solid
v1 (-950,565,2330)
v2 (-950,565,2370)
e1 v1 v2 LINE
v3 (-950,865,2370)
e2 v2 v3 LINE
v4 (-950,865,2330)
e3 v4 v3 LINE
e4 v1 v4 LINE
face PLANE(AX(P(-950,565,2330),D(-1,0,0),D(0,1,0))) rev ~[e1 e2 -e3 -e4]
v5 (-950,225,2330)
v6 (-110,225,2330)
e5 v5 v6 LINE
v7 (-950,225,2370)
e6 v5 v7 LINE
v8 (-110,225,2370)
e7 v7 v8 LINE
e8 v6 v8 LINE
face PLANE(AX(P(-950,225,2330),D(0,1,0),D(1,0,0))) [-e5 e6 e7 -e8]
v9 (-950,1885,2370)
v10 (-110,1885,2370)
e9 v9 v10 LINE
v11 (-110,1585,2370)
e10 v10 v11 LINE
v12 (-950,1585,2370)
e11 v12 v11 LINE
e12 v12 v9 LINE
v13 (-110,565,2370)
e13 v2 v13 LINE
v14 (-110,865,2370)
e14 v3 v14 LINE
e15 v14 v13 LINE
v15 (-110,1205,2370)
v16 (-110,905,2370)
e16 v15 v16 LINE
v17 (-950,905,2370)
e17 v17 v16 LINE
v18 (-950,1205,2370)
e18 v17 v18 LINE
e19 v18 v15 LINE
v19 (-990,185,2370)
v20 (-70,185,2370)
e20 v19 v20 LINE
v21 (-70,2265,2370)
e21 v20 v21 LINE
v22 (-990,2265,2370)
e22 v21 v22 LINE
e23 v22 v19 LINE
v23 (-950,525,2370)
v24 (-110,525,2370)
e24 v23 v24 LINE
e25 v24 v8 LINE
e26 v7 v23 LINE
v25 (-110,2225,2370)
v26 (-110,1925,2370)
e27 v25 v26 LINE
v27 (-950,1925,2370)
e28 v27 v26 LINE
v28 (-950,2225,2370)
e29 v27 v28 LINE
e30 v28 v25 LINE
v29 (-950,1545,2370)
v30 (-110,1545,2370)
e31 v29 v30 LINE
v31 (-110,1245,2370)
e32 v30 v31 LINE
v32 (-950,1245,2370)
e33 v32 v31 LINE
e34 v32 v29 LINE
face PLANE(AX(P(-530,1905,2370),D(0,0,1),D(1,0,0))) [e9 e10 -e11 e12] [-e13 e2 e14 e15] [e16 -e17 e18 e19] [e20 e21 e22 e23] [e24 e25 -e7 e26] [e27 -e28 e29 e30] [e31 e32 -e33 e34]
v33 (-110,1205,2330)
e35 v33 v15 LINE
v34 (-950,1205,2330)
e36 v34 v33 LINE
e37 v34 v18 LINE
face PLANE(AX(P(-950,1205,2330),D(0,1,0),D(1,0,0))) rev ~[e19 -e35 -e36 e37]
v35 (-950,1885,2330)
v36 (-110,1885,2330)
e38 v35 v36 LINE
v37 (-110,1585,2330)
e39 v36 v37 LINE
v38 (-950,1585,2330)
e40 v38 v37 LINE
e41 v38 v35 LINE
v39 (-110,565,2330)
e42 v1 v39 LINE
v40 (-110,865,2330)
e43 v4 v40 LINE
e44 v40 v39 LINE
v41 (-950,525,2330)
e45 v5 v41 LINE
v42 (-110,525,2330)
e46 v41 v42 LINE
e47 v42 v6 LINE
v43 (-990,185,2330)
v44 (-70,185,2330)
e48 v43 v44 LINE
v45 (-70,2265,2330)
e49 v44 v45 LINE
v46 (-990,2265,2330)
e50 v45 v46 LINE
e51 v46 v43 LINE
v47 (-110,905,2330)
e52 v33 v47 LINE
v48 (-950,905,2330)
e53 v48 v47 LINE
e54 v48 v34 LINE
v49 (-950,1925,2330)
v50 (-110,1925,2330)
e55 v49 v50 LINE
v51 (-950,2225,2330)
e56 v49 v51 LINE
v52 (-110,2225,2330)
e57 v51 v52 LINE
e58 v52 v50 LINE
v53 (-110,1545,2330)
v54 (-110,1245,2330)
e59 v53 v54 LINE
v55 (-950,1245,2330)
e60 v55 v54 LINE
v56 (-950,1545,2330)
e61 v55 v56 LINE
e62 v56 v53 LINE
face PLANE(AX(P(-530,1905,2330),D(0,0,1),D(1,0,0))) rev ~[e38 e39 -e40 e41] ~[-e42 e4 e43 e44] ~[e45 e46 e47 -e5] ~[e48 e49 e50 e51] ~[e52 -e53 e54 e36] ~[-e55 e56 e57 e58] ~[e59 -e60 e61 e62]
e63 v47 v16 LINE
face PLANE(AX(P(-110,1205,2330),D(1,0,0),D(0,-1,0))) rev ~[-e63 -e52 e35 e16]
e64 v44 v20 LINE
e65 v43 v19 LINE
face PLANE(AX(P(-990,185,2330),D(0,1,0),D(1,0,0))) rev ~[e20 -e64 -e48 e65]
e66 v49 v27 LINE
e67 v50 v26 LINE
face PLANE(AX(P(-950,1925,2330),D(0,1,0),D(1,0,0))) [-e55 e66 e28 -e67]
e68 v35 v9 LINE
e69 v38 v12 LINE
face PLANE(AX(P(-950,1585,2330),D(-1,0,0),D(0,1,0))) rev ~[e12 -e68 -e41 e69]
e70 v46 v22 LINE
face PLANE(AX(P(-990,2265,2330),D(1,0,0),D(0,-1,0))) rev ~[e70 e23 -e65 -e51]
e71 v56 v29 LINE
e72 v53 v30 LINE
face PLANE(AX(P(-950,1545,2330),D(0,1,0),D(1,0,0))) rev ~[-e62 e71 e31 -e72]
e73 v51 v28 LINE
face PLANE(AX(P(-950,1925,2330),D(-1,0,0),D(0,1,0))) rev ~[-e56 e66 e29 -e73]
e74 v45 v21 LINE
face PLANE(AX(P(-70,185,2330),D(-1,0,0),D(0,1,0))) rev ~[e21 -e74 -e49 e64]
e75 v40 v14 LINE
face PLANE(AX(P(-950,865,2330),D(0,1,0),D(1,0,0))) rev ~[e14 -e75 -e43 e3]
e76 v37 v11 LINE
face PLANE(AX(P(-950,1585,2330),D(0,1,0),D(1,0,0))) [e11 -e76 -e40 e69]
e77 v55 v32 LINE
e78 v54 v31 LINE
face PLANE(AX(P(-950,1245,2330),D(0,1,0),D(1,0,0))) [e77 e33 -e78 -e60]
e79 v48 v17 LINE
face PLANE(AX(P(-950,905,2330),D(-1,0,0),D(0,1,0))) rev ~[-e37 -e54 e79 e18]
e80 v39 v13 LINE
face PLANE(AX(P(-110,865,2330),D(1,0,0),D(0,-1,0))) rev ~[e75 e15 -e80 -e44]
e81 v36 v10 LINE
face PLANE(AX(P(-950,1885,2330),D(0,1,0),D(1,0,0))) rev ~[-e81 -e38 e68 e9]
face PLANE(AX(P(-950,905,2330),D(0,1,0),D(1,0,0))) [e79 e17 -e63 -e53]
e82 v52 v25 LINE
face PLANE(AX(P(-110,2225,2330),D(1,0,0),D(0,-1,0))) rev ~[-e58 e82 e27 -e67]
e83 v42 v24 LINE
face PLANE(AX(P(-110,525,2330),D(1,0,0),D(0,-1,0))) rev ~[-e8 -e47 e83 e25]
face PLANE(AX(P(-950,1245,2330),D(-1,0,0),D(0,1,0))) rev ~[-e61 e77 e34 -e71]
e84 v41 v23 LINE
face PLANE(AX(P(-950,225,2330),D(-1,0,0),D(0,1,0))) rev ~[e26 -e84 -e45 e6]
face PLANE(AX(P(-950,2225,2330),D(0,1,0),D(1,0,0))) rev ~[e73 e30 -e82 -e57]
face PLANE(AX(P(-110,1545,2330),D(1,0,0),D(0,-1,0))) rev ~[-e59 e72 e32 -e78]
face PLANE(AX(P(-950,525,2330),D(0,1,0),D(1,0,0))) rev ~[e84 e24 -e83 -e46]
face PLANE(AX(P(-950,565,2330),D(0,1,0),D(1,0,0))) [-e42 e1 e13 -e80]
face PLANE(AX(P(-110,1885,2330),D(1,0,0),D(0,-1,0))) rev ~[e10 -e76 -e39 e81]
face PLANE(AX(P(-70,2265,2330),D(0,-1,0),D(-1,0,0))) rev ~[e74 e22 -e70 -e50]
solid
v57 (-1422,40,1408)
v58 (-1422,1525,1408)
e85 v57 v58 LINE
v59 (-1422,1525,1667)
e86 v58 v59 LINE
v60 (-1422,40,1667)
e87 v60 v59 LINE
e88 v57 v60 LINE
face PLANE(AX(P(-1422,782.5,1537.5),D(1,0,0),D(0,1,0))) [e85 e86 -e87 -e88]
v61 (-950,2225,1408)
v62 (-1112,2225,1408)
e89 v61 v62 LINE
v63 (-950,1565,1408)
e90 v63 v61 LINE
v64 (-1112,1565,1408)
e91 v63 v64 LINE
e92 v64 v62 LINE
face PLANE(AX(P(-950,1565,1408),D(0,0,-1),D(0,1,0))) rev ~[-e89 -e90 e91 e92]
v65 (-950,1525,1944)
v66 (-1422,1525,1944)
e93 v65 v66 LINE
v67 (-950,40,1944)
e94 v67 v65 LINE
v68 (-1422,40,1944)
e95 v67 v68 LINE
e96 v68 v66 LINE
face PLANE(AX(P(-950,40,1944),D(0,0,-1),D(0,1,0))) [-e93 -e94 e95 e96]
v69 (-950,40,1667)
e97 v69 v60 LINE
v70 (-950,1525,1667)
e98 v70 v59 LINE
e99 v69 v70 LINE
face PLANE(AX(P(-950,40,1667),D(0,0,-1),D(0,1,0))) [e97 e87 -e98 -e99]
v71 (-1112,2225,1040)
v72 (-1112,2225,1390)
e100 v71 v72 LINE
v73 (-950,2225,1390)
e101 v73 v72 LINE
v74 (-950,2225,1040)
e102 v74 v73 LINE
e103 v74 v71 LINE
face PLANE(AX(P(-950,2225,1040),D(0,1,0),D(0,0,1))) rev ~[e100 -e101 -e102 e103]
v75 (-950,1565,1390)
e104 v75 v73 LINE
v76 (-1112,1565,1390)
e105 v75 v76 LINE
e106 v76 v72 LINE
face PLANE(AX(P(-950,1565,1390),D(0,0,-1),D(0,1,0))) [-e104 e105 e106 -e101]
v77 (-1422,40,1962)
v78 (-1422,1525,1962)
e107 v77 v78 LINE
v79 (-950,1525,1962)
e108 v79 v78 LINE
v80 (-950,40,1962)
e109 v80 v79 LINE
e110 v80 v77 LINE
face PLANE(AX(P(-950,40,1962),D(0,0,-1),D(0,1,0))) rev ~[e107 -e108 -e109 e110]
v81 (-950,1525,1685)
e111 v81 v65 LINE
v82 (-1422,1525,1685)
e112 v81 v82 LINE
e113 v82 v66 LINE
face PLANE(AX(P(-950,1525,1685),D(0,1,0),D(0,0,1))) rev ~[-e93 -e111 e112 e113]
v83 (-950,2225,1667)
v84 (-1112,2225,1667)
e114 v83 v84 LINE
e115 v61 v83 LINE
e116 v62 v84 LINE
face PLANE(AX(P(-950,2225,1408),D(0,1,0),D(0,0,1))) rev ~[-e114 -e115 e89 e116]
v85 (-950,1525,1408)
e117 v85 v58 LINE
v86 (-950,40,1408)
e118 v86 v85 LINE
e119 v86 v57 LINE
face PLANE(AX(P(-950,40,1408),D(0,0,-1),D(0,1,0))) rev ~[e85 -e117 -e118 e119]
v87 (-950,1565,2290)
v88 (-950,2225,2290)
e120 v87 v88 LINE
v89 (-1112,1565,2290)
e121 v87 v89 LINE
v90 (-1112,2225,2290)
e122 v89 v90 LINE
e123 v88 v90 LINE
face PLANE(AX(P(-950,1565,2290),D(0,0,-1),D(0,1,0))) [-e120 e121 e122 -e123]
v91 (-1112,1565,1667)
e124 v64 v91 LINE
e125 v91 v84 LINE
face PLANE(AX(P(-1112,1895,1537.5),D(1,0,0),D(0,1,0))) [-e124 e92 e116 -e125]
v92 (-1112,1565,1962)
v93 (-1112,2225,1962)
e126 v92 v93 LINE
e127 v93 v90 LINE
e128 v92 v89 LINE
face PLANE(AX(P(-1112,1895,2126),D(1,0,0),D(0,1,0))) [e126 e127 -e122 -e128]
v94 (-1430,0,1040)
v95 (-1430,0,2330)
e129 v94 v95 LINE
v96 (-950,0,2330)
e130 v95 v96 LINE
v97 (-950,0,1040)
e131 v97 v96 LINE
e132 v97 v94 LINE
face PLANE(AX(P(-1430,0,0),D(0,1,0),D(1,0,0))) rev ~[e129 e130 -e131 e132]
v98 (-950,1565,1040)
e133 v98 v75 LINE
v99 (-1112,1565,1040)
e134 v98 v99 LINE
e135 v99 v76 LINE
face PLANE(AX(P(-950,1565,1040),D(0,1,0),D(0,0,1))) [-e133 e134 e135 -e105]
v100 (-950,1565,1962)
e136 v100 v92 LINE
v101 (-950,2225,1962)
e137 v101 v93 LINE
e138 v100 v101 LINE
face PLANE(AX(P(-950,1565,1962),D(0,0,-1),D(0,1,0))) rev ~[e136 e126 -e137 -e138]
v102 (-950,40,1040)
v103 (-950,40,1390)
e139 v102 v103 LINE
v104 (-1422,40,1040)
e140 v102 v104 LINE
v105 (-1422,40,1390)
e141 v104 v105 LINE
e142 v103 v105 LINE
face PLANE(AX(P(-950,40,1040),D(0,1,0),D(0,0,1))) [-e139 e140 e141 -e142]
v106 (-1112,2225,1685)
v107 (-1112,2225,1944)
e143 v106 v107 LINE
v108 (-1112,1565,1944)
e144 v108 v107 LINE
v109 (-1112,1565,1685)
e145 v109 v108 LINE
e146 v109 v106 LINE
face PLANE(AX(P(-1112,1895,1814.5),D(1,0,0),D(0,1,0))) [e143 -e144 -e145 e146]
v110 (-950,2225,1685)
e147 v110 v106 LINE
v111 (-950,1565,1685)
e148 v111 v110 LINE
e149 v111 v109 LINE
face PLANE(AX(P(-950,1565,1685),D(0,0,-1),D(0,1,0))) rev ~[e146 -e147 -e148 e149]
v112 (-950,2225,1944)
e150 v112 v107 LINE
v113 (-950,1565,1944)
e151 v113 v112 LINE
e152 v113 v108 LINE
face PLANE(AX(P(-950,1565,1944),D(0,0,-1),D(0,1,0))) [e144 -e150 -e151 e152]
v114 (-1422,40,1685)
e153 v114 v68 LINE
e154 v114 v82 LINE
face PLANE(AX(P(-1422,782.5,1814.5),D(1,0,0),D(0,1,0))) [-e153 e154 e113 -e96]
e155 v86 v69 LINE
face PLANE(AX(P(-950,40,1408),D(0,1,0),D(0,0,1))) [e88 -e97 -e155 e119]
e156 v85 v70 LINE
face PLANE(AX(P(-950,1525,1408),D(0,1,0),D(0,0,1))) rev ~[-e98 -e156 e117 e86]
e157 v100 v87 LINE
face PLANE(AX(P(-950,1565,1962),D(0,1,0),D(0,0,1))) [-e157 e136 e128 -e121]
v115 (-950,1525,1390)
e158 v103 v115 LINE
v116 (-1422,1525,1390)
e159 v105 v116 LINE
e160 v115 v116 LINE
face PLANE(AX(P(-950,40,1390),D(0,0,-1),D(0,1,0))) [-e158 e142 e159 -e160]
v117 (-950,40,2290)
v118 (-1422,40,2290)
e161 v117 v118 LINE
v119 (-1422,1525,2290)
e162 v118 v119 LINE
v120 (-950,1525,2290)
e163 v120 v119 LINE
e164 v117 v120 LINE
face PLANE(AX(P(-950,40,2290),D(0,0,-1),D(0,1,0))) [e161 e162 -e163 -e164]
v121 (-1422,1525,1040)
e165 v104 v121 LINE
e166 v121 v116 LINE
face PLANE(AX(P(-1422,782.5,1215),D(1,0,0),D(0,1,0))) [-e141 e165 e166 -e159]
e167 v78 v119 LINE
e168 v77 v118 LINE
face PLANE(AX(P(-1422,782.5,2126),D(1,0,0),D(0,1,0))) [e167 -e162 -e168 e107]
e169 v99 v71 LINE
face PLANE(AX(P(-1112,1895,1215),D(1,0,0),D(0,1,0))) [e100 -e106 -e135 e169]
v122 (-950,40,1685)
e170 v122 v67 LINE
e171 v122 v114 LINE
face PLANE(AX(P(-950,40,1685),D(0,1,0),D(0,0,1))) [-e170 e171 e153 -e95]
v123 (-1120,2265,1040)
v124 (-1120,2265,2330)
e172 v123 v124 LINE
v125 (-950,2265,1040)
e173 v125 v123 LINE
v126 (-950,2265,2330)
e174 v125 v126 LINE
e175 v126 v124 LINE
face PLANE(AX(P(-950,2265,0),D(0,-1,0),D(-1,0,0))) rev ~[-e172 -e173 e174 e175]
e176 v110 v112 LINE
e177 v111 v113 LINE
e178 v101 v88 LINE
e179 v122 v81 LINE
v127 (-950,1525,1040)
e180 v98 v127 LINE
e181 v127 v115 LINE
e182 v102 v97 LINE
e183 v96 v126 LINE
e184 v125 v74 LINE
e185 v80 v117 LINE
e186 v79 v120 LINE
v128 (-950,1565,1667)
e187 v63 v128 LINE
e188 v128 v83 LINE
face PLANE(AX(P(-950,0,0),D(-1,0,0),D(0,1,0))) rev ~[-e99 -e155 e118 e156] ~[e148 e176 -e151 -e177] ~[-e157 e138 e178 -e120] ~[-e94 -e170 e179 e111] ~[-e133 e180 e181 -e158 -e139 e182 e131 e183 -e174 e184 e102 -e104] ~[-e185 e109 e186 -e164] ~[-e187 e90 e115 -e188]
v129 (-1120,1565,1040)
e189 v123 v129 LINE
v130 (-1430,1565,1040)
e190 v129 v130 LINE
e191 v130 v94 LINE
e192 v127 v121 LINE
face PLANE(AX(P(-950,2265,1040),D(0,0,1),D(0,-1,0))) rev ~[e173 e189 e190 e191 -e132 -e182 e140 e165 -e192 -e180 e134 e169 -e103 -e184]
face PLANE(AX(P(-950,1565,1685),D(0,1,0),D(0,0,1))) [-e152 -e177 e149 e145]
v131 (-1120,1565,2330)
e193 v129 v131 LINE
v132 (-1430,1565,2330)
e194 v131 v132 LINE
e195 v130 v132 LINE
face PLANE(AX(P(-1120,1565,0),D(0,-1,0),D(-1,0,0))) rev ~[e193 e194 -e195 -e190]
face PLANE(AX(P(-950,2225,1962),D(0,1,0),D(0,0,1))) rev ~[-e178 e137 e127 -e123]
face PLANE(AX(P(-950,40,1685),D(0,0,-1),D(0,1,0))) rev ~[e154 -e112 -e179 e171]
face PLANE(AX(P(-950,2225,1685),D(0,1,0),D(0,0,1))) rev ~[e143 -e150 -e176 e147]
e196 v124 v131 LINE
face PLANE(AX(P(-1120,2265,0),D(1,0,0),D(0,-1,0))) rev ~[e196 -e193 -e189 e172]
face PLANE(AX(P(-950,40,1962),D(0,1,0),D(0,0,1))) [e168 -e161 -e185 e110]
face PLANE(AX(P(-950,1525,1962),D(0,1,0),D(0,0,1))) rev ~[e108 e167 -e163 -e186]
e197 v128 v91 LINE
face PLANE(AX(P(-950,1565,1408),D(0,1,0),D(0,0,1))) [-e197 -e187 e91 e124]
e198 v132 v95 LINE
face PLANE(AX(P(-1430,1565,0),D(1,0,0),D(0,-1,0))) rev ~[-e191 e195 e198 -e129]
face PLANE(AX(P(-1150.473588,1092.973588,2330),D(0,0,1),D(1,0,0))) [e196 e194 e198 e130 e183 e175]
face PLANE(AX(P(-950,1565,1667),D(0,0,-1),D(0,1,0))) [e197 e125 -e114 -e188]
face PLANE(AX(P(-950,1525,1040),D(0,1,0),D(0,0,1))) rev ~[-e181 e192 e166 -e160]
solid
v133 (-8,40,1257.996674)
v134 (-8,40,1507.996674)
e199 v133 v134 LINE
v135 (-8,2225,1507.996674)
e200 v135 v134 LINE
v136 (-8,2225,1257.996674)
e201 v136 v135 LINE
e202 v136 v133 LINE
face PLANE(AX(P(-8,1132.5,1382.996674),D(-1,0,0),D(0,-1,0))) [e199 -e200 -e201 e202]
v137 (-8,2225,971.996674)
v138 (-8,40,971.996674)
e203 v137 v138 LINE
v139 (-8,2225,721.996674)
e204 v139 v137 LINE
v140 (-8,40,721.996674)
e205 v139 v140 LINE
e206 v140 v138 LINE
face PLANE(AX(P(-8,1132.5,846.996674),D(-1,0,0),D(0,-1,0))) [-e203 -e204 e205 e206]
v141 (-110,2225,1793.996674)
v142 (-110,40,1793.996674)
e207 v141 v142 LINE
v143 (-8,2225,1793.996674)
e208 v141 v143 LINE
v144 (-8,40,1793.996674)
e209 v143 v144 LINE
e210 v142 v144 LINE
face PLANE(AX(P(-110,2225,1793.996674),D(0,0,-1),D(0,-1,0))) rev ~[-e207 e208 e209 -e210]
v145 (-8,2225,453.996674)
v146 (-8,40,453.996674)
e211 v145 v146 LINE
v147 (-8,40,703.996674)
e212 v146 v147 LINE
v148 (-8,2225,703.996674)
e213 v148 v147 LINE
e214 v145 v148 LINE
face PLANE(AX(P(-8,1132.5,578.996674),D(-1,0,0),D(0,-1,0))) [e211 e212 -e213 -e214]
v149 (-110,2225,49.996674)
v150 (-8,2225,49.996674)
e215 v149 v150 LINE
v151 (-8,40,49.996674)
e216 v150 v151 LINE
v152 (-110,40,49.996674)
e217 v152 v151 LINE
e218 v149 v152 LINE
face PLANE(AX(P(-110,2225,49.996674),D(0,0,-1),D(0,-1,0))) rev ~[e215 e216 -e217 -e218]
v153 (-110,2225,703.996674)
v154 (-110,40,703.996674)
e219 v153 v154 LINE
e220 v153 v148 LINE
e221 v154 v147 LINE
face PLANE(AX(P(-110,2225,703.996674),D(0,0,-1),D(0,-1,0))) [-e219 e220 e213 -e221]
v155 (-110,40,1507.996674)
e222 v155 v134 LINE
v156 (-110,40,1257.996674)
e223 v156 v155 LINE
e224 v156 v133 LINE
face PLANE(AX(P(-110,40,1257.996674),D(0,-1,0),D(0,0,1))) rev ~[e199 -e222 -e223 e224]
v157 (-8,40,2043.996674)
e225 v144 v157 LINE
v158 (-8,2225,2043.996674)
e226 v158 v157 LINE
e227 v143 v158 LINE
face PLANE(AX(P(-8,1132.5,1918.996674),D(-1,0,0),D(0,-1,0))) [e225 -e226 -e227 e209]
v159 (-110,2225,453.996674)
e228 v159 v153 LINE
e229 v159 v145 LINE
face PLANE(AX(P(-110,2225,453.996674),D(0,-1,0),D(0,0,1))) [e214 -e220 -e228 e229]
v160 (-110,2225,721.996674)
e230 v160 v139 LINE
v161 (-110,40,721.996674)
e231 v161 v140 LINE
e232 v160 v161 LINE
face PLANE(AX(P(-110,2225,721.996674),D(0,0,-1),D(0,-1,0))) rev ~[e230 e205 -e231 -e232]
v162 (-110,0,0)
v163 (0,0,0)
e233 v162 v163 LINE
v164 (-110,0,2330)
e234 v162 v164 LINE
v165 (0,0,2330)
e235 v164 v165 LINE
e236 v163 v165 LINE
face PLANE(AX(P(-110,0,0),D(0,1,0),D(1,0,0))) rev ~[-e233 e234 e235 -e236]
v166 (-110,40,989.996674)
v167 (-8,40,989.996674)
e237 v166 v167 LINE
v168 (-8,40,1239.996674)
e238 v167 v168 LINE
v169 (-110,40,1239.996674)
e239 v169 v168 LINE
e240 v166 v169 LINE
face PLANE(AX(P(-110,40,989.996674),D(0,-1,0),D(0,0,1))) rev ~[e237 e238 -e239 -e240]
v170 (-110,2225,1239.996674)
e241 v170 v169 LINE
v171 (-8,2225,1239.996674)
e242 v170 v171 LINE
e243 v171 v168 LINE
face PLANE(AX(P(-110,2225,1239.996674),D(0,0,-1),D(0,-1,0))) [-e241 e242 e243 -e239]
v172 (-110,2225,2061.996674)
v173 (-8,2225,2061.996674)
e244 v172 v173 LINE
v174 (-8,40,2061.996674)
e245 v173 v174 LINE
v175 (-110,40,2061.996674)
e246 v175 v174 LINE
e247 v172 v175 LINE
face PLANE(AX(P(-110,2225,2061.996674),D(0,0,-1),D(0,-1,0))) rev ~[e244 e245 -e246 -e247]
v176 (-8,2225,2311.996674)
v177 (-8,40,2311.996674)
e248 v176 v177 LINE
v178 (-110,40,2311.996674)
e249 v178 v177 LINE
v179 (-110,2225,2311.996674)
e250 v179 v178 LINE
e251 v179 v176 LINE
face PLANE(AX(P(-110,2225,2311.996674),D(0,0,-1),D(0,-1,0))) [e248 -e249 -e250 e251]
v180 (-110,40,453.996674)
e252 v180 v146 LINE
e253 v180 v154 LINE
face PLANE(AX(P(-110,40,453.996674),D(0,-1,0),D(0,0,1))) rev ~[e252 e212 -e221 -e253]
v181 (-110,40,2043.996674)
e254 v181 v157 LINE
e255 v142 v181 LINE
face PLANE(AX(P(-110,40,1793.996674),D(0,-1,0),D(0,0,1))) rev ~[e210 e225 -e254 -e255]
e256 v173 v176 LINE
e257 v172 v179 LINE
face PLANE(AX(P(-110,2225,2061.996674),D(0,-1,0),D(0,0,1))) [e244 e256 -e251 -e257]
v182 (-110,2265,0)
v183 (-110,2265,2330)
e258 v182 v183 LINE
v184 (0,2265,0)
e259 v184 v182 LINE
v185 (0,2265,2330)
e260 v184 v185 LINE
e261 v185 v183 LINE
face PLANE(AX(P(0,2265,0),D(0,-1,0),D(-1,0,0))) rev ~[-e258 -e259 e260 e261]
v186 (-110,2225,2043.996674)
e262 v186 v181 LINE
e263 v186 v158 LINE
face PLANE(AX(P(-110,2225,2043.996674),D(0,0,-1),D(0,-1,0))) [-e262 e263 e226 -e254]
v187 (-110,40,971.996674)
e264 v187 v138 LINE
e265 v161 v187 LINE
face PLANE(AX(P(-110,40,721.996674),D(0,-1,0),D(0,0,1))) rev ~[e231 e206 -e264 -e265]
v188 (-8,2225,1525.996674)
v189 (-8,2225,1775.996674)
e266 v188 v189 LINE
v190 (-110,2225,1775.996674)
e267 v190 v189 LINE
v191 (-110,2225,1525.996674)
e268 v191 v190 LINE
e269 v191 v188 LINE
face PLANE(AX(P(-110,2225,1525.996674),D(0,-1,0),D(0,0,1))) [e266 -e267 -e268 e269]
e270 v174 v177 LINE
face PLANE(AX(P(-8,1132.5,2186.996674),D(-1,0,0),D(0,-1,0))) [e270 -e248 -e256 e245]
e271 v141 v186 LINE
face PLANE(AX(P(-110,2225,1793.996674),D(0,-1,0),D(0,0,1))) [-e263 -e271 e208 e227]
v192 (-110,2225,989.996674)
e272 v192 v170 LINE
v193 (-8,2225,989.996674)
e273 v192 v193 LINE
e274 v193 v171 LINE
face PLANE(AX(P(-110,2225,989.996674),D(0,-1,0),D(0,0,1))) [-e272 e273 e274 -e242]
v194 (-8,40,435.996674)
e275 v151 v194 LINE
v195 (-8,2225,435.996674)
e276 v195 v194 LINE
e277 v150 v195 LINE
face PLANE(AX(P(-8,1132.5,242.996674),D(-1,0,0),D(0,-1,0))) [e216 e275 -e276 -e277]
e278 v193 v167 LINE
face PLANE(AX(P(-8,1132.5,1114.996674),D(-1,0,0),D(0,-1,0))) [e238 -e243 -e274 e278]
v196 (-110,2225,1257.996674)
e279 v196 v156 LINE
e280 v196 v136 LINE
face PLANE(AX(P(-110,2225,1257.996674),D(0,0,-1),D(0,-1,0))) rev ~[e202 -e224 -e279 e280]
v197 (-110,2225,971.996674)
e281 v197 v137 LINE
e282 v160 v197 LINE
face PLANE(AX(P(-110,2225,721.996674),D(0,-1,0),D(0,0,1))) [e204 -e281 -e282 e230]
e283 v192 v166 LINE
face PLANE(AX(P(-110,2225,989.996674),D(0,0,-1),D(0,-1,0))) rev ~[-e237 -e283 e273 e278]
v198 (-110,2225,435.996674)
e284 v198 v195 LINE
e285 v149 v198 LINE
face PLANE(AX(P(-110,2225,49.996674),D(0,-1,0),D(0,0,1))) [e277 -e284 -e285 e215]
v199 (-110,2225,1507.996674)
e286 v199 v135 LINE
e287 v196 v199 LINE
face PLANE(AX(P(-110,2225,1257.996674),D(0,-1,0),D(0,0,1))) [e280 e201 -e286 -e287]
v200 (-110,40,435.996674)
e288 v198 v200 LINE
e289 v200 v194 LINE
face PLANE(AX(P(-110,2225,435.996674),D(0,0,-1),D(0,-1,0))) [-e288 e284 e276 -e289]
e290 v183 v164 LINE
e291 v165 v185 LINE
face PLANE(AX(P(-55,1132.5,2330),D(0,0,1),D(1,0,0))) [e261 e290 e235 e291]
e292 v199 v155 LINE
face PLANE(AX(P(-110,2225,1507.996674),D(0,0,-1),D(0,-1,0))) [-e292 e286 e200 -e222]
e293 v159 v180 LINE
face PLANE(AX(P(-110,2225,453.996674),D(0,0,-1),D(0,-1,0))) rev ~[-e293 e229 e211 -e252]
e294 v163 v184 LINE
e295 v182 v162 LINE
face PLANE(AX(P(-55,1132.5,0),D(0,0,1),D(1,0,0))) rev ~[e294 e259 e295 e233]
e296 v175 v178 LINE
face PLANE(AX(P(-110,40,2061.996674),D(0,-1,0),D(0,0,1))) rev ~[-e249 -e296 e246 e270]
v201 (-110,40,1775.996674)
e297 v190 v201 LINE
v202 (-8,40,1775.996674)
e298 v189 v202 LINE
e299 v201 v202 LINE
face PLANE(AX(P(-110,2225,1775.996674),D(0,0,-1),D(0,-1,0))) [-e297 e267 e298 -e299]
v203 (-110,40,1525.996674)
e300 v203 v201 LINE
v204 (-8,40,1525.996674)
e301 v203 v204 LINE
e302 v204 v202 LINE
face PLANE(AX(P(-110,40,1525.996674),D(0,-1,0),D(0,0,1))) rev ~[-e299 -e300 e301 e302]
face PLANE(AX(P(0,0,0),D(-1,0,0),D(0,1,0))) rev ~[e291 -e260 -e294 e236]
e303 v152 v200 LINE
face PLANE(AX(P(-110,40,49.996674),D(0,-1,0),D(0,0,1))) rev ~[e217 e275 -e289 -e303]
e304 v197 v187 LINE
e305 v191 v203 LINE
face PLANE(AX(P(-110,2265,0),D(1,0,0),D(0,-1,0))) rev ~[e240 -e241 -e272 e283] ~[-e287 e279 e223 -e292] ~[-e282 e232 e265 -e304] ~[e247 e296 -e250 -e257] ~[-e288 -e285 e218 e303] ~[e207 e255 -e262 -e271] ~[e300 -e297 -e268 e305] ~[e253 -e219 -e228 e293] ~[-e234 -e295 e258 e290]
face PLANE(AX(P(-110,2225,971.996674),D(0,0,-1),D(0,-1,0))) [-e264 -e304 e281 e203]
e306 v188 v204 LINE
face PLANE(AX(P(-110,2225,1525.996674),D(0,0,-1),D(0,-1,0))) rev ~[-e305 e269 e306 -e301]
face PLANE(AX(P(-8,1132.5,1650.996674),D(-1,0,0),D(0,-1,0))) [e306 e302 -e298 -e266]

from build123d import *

# Parameters (mm, degrees)
F1_DEPTH  = 2330
F2_W      = 2185
F2_H      = 250
F2_H_2    = 386
F3_DEPTH  = 102
F5_DEPTH  = 480
F6_W      = 660
F6_H      = 350
F6_H_2    = 259
F6_H_3    = 328
F7_DEPTH  = 162
F6_W_2    = 1485
F8_DEPTH  = 472
F9_W      = 840
F9_H      = 40
F10_DEPTH = 40


with BuildPart() as f1:
    # F0 (on Top) → F1 (new body)
    with BuildSketch(Plane.XY):
        Polygon((-110, 0), (0, 0), (0, 789.6427494474), (0, 2265), (-110, 2265), (-110, 789.6427494474), align=None)
    extrude(amount=F1_DEPTH)

    # F2 (on face) → F3 (cut)
    with BuildSketch(Plane(origin=(-110, 0, 0), x_dir=(0, -1, 0), z_dir=(-1, 0, 0))):
        with Locations((-1132.5, 2186.9966740608)):
            Rectangle(F2_W, F2_H)
        with Locations((-1132.5, 1918.9966740608)):
            Rectangle(F2_W, F2_H)
        with Locations((-1132.5, 1650.9966740608)):
            Rectangle(F2_W, F2_H)
        with Locations((-1132.5, 1382.9966740608)):
            Rectangle(F2_W, F2_H)
        with Locations((-1132.5, 1114.9966740608)):
            Rectangle(F2_W, F2_H)
        with Locations((-1132.5, 846.9966740608)):
            Rectangle(F2_W, F2_H)
        with Locations((-1132.5, 578.9966740608)):
            Rectangle(F2_W, F2_H)
        with Locations((-1132.5, 242.9966740608)):
            Rectangle(F2_W, F2_H_2)
    extrude(amount=-F3_DEPTH, mode=Mode.SUBTRACT)


with BuildPart() as f1b:
    # F0 (on Top) → F1, piece 2 (new body)
    with BuildSketch(Plane.XY):
        Polygon((-950, 2265), (-1120, 2265), (-1120, 1565), (-1430, 1565), (-1430, 0), (-1120, 0), (-950, 0), align=None)
    extrude(amount=F1_DEPTH)

    # F4 (on face) → F5 (cut)
    with BuildSketch(Plane.YZ.offset(-950)):
        Polygon((2265, 1040), (0, 1040), (0, 0), (1565, 0), (2265, 0), align=None)
    extrude(amount=-F5_DEPTH, mode=Mode.SUBTRACT)

    # F6 (on face) → F7 (cut)
    with BuildSketch(Plane.YZ.offset(-950)):
        with Locations((1895, 1215)):
            Rectangle(F6_W, F6_H)
        with Locations((1895, 1537.5)):
            Rectangle(F6_W, F6_H_2)
        with Locations((1895, 1814.5)):
            Rectangle(F6_W, F6_H_2)
        with Locations((1895, 2126)):
            Rectangle(F6_W, F6_H_3)
    extrude(amount=-F7_DEPTH, mode=Mode.SUBTRACT)

    # F6 (on face) → F8 (cut)
    with BuildSketch(Plane.YZ.offset(-950)):
        with Locations((782.5, 1215)):
            Rectangle(F6_W_2, F6_H)
        with Locations((782.5, 1537.5)):
            Rectangle(F6_W_2, F6_H_2)
        with Locations((782.5, 1814.5)):
            Rectangle(F6_W_2, F6_H_2)
        with Locations((782.5, 2126)):
            Rectangle(F6_W_2, F6_H_3)
    extrude(amount=-F8_DEPTH, mode=Mode.SUBTRACT)


with BuildPart() as f10:
    # F9 (on face) → F10 (new body)
    with BuildSketch(Plane.XY.offset(2330)):
        with Locations((-530, 1905)):
            Rectangle(F9_W, F9_H)
        with Locations((-530, 1565)):
            Rectangle(F9_W, F9_H)
        with Locations((-530, 1225)):
            Rectangle(F9_W, F9_H)
        with Locations((-530, 885)):
            Rectangle(F9_W, F9_H)
        with Locations((-530, 205)):
            Rectangle(F9_W, F9_H)
        with Locations((-530, 545)):
            Rectangle(F9_W, F9_H)
        Polygon((-110, 225), (-110, 185), (-70, 185), (-70, 2265), (-110, 2265), (-110, 2225), (-110, 1925), (-110, 1885), (-110, 1585), (-110, 1545), (-110, 1245), (-110, 1205), (-110, 905), (-110, 865), (-110, 565), (-110, 525), align=None)
        Polygon((-990, 185), (-950, 185), (-950, 225), (-950, 525), (-950, 565), (-950, 865), (-950, 905), (-950, 1205), (-950, 1245), (-950, 1545), (-950, 1585), (-950, 1885), (-950, 1925), (-950, 2225), (-950, 2265), (-990, 2265), align=None)
        with Locations((-530, 2245)):
            Rectangle(F9_W, F9_H)
    extrude(amount=F10_DEPTH)


solid = Compound([f1.part, f1b.part, f10.part])
